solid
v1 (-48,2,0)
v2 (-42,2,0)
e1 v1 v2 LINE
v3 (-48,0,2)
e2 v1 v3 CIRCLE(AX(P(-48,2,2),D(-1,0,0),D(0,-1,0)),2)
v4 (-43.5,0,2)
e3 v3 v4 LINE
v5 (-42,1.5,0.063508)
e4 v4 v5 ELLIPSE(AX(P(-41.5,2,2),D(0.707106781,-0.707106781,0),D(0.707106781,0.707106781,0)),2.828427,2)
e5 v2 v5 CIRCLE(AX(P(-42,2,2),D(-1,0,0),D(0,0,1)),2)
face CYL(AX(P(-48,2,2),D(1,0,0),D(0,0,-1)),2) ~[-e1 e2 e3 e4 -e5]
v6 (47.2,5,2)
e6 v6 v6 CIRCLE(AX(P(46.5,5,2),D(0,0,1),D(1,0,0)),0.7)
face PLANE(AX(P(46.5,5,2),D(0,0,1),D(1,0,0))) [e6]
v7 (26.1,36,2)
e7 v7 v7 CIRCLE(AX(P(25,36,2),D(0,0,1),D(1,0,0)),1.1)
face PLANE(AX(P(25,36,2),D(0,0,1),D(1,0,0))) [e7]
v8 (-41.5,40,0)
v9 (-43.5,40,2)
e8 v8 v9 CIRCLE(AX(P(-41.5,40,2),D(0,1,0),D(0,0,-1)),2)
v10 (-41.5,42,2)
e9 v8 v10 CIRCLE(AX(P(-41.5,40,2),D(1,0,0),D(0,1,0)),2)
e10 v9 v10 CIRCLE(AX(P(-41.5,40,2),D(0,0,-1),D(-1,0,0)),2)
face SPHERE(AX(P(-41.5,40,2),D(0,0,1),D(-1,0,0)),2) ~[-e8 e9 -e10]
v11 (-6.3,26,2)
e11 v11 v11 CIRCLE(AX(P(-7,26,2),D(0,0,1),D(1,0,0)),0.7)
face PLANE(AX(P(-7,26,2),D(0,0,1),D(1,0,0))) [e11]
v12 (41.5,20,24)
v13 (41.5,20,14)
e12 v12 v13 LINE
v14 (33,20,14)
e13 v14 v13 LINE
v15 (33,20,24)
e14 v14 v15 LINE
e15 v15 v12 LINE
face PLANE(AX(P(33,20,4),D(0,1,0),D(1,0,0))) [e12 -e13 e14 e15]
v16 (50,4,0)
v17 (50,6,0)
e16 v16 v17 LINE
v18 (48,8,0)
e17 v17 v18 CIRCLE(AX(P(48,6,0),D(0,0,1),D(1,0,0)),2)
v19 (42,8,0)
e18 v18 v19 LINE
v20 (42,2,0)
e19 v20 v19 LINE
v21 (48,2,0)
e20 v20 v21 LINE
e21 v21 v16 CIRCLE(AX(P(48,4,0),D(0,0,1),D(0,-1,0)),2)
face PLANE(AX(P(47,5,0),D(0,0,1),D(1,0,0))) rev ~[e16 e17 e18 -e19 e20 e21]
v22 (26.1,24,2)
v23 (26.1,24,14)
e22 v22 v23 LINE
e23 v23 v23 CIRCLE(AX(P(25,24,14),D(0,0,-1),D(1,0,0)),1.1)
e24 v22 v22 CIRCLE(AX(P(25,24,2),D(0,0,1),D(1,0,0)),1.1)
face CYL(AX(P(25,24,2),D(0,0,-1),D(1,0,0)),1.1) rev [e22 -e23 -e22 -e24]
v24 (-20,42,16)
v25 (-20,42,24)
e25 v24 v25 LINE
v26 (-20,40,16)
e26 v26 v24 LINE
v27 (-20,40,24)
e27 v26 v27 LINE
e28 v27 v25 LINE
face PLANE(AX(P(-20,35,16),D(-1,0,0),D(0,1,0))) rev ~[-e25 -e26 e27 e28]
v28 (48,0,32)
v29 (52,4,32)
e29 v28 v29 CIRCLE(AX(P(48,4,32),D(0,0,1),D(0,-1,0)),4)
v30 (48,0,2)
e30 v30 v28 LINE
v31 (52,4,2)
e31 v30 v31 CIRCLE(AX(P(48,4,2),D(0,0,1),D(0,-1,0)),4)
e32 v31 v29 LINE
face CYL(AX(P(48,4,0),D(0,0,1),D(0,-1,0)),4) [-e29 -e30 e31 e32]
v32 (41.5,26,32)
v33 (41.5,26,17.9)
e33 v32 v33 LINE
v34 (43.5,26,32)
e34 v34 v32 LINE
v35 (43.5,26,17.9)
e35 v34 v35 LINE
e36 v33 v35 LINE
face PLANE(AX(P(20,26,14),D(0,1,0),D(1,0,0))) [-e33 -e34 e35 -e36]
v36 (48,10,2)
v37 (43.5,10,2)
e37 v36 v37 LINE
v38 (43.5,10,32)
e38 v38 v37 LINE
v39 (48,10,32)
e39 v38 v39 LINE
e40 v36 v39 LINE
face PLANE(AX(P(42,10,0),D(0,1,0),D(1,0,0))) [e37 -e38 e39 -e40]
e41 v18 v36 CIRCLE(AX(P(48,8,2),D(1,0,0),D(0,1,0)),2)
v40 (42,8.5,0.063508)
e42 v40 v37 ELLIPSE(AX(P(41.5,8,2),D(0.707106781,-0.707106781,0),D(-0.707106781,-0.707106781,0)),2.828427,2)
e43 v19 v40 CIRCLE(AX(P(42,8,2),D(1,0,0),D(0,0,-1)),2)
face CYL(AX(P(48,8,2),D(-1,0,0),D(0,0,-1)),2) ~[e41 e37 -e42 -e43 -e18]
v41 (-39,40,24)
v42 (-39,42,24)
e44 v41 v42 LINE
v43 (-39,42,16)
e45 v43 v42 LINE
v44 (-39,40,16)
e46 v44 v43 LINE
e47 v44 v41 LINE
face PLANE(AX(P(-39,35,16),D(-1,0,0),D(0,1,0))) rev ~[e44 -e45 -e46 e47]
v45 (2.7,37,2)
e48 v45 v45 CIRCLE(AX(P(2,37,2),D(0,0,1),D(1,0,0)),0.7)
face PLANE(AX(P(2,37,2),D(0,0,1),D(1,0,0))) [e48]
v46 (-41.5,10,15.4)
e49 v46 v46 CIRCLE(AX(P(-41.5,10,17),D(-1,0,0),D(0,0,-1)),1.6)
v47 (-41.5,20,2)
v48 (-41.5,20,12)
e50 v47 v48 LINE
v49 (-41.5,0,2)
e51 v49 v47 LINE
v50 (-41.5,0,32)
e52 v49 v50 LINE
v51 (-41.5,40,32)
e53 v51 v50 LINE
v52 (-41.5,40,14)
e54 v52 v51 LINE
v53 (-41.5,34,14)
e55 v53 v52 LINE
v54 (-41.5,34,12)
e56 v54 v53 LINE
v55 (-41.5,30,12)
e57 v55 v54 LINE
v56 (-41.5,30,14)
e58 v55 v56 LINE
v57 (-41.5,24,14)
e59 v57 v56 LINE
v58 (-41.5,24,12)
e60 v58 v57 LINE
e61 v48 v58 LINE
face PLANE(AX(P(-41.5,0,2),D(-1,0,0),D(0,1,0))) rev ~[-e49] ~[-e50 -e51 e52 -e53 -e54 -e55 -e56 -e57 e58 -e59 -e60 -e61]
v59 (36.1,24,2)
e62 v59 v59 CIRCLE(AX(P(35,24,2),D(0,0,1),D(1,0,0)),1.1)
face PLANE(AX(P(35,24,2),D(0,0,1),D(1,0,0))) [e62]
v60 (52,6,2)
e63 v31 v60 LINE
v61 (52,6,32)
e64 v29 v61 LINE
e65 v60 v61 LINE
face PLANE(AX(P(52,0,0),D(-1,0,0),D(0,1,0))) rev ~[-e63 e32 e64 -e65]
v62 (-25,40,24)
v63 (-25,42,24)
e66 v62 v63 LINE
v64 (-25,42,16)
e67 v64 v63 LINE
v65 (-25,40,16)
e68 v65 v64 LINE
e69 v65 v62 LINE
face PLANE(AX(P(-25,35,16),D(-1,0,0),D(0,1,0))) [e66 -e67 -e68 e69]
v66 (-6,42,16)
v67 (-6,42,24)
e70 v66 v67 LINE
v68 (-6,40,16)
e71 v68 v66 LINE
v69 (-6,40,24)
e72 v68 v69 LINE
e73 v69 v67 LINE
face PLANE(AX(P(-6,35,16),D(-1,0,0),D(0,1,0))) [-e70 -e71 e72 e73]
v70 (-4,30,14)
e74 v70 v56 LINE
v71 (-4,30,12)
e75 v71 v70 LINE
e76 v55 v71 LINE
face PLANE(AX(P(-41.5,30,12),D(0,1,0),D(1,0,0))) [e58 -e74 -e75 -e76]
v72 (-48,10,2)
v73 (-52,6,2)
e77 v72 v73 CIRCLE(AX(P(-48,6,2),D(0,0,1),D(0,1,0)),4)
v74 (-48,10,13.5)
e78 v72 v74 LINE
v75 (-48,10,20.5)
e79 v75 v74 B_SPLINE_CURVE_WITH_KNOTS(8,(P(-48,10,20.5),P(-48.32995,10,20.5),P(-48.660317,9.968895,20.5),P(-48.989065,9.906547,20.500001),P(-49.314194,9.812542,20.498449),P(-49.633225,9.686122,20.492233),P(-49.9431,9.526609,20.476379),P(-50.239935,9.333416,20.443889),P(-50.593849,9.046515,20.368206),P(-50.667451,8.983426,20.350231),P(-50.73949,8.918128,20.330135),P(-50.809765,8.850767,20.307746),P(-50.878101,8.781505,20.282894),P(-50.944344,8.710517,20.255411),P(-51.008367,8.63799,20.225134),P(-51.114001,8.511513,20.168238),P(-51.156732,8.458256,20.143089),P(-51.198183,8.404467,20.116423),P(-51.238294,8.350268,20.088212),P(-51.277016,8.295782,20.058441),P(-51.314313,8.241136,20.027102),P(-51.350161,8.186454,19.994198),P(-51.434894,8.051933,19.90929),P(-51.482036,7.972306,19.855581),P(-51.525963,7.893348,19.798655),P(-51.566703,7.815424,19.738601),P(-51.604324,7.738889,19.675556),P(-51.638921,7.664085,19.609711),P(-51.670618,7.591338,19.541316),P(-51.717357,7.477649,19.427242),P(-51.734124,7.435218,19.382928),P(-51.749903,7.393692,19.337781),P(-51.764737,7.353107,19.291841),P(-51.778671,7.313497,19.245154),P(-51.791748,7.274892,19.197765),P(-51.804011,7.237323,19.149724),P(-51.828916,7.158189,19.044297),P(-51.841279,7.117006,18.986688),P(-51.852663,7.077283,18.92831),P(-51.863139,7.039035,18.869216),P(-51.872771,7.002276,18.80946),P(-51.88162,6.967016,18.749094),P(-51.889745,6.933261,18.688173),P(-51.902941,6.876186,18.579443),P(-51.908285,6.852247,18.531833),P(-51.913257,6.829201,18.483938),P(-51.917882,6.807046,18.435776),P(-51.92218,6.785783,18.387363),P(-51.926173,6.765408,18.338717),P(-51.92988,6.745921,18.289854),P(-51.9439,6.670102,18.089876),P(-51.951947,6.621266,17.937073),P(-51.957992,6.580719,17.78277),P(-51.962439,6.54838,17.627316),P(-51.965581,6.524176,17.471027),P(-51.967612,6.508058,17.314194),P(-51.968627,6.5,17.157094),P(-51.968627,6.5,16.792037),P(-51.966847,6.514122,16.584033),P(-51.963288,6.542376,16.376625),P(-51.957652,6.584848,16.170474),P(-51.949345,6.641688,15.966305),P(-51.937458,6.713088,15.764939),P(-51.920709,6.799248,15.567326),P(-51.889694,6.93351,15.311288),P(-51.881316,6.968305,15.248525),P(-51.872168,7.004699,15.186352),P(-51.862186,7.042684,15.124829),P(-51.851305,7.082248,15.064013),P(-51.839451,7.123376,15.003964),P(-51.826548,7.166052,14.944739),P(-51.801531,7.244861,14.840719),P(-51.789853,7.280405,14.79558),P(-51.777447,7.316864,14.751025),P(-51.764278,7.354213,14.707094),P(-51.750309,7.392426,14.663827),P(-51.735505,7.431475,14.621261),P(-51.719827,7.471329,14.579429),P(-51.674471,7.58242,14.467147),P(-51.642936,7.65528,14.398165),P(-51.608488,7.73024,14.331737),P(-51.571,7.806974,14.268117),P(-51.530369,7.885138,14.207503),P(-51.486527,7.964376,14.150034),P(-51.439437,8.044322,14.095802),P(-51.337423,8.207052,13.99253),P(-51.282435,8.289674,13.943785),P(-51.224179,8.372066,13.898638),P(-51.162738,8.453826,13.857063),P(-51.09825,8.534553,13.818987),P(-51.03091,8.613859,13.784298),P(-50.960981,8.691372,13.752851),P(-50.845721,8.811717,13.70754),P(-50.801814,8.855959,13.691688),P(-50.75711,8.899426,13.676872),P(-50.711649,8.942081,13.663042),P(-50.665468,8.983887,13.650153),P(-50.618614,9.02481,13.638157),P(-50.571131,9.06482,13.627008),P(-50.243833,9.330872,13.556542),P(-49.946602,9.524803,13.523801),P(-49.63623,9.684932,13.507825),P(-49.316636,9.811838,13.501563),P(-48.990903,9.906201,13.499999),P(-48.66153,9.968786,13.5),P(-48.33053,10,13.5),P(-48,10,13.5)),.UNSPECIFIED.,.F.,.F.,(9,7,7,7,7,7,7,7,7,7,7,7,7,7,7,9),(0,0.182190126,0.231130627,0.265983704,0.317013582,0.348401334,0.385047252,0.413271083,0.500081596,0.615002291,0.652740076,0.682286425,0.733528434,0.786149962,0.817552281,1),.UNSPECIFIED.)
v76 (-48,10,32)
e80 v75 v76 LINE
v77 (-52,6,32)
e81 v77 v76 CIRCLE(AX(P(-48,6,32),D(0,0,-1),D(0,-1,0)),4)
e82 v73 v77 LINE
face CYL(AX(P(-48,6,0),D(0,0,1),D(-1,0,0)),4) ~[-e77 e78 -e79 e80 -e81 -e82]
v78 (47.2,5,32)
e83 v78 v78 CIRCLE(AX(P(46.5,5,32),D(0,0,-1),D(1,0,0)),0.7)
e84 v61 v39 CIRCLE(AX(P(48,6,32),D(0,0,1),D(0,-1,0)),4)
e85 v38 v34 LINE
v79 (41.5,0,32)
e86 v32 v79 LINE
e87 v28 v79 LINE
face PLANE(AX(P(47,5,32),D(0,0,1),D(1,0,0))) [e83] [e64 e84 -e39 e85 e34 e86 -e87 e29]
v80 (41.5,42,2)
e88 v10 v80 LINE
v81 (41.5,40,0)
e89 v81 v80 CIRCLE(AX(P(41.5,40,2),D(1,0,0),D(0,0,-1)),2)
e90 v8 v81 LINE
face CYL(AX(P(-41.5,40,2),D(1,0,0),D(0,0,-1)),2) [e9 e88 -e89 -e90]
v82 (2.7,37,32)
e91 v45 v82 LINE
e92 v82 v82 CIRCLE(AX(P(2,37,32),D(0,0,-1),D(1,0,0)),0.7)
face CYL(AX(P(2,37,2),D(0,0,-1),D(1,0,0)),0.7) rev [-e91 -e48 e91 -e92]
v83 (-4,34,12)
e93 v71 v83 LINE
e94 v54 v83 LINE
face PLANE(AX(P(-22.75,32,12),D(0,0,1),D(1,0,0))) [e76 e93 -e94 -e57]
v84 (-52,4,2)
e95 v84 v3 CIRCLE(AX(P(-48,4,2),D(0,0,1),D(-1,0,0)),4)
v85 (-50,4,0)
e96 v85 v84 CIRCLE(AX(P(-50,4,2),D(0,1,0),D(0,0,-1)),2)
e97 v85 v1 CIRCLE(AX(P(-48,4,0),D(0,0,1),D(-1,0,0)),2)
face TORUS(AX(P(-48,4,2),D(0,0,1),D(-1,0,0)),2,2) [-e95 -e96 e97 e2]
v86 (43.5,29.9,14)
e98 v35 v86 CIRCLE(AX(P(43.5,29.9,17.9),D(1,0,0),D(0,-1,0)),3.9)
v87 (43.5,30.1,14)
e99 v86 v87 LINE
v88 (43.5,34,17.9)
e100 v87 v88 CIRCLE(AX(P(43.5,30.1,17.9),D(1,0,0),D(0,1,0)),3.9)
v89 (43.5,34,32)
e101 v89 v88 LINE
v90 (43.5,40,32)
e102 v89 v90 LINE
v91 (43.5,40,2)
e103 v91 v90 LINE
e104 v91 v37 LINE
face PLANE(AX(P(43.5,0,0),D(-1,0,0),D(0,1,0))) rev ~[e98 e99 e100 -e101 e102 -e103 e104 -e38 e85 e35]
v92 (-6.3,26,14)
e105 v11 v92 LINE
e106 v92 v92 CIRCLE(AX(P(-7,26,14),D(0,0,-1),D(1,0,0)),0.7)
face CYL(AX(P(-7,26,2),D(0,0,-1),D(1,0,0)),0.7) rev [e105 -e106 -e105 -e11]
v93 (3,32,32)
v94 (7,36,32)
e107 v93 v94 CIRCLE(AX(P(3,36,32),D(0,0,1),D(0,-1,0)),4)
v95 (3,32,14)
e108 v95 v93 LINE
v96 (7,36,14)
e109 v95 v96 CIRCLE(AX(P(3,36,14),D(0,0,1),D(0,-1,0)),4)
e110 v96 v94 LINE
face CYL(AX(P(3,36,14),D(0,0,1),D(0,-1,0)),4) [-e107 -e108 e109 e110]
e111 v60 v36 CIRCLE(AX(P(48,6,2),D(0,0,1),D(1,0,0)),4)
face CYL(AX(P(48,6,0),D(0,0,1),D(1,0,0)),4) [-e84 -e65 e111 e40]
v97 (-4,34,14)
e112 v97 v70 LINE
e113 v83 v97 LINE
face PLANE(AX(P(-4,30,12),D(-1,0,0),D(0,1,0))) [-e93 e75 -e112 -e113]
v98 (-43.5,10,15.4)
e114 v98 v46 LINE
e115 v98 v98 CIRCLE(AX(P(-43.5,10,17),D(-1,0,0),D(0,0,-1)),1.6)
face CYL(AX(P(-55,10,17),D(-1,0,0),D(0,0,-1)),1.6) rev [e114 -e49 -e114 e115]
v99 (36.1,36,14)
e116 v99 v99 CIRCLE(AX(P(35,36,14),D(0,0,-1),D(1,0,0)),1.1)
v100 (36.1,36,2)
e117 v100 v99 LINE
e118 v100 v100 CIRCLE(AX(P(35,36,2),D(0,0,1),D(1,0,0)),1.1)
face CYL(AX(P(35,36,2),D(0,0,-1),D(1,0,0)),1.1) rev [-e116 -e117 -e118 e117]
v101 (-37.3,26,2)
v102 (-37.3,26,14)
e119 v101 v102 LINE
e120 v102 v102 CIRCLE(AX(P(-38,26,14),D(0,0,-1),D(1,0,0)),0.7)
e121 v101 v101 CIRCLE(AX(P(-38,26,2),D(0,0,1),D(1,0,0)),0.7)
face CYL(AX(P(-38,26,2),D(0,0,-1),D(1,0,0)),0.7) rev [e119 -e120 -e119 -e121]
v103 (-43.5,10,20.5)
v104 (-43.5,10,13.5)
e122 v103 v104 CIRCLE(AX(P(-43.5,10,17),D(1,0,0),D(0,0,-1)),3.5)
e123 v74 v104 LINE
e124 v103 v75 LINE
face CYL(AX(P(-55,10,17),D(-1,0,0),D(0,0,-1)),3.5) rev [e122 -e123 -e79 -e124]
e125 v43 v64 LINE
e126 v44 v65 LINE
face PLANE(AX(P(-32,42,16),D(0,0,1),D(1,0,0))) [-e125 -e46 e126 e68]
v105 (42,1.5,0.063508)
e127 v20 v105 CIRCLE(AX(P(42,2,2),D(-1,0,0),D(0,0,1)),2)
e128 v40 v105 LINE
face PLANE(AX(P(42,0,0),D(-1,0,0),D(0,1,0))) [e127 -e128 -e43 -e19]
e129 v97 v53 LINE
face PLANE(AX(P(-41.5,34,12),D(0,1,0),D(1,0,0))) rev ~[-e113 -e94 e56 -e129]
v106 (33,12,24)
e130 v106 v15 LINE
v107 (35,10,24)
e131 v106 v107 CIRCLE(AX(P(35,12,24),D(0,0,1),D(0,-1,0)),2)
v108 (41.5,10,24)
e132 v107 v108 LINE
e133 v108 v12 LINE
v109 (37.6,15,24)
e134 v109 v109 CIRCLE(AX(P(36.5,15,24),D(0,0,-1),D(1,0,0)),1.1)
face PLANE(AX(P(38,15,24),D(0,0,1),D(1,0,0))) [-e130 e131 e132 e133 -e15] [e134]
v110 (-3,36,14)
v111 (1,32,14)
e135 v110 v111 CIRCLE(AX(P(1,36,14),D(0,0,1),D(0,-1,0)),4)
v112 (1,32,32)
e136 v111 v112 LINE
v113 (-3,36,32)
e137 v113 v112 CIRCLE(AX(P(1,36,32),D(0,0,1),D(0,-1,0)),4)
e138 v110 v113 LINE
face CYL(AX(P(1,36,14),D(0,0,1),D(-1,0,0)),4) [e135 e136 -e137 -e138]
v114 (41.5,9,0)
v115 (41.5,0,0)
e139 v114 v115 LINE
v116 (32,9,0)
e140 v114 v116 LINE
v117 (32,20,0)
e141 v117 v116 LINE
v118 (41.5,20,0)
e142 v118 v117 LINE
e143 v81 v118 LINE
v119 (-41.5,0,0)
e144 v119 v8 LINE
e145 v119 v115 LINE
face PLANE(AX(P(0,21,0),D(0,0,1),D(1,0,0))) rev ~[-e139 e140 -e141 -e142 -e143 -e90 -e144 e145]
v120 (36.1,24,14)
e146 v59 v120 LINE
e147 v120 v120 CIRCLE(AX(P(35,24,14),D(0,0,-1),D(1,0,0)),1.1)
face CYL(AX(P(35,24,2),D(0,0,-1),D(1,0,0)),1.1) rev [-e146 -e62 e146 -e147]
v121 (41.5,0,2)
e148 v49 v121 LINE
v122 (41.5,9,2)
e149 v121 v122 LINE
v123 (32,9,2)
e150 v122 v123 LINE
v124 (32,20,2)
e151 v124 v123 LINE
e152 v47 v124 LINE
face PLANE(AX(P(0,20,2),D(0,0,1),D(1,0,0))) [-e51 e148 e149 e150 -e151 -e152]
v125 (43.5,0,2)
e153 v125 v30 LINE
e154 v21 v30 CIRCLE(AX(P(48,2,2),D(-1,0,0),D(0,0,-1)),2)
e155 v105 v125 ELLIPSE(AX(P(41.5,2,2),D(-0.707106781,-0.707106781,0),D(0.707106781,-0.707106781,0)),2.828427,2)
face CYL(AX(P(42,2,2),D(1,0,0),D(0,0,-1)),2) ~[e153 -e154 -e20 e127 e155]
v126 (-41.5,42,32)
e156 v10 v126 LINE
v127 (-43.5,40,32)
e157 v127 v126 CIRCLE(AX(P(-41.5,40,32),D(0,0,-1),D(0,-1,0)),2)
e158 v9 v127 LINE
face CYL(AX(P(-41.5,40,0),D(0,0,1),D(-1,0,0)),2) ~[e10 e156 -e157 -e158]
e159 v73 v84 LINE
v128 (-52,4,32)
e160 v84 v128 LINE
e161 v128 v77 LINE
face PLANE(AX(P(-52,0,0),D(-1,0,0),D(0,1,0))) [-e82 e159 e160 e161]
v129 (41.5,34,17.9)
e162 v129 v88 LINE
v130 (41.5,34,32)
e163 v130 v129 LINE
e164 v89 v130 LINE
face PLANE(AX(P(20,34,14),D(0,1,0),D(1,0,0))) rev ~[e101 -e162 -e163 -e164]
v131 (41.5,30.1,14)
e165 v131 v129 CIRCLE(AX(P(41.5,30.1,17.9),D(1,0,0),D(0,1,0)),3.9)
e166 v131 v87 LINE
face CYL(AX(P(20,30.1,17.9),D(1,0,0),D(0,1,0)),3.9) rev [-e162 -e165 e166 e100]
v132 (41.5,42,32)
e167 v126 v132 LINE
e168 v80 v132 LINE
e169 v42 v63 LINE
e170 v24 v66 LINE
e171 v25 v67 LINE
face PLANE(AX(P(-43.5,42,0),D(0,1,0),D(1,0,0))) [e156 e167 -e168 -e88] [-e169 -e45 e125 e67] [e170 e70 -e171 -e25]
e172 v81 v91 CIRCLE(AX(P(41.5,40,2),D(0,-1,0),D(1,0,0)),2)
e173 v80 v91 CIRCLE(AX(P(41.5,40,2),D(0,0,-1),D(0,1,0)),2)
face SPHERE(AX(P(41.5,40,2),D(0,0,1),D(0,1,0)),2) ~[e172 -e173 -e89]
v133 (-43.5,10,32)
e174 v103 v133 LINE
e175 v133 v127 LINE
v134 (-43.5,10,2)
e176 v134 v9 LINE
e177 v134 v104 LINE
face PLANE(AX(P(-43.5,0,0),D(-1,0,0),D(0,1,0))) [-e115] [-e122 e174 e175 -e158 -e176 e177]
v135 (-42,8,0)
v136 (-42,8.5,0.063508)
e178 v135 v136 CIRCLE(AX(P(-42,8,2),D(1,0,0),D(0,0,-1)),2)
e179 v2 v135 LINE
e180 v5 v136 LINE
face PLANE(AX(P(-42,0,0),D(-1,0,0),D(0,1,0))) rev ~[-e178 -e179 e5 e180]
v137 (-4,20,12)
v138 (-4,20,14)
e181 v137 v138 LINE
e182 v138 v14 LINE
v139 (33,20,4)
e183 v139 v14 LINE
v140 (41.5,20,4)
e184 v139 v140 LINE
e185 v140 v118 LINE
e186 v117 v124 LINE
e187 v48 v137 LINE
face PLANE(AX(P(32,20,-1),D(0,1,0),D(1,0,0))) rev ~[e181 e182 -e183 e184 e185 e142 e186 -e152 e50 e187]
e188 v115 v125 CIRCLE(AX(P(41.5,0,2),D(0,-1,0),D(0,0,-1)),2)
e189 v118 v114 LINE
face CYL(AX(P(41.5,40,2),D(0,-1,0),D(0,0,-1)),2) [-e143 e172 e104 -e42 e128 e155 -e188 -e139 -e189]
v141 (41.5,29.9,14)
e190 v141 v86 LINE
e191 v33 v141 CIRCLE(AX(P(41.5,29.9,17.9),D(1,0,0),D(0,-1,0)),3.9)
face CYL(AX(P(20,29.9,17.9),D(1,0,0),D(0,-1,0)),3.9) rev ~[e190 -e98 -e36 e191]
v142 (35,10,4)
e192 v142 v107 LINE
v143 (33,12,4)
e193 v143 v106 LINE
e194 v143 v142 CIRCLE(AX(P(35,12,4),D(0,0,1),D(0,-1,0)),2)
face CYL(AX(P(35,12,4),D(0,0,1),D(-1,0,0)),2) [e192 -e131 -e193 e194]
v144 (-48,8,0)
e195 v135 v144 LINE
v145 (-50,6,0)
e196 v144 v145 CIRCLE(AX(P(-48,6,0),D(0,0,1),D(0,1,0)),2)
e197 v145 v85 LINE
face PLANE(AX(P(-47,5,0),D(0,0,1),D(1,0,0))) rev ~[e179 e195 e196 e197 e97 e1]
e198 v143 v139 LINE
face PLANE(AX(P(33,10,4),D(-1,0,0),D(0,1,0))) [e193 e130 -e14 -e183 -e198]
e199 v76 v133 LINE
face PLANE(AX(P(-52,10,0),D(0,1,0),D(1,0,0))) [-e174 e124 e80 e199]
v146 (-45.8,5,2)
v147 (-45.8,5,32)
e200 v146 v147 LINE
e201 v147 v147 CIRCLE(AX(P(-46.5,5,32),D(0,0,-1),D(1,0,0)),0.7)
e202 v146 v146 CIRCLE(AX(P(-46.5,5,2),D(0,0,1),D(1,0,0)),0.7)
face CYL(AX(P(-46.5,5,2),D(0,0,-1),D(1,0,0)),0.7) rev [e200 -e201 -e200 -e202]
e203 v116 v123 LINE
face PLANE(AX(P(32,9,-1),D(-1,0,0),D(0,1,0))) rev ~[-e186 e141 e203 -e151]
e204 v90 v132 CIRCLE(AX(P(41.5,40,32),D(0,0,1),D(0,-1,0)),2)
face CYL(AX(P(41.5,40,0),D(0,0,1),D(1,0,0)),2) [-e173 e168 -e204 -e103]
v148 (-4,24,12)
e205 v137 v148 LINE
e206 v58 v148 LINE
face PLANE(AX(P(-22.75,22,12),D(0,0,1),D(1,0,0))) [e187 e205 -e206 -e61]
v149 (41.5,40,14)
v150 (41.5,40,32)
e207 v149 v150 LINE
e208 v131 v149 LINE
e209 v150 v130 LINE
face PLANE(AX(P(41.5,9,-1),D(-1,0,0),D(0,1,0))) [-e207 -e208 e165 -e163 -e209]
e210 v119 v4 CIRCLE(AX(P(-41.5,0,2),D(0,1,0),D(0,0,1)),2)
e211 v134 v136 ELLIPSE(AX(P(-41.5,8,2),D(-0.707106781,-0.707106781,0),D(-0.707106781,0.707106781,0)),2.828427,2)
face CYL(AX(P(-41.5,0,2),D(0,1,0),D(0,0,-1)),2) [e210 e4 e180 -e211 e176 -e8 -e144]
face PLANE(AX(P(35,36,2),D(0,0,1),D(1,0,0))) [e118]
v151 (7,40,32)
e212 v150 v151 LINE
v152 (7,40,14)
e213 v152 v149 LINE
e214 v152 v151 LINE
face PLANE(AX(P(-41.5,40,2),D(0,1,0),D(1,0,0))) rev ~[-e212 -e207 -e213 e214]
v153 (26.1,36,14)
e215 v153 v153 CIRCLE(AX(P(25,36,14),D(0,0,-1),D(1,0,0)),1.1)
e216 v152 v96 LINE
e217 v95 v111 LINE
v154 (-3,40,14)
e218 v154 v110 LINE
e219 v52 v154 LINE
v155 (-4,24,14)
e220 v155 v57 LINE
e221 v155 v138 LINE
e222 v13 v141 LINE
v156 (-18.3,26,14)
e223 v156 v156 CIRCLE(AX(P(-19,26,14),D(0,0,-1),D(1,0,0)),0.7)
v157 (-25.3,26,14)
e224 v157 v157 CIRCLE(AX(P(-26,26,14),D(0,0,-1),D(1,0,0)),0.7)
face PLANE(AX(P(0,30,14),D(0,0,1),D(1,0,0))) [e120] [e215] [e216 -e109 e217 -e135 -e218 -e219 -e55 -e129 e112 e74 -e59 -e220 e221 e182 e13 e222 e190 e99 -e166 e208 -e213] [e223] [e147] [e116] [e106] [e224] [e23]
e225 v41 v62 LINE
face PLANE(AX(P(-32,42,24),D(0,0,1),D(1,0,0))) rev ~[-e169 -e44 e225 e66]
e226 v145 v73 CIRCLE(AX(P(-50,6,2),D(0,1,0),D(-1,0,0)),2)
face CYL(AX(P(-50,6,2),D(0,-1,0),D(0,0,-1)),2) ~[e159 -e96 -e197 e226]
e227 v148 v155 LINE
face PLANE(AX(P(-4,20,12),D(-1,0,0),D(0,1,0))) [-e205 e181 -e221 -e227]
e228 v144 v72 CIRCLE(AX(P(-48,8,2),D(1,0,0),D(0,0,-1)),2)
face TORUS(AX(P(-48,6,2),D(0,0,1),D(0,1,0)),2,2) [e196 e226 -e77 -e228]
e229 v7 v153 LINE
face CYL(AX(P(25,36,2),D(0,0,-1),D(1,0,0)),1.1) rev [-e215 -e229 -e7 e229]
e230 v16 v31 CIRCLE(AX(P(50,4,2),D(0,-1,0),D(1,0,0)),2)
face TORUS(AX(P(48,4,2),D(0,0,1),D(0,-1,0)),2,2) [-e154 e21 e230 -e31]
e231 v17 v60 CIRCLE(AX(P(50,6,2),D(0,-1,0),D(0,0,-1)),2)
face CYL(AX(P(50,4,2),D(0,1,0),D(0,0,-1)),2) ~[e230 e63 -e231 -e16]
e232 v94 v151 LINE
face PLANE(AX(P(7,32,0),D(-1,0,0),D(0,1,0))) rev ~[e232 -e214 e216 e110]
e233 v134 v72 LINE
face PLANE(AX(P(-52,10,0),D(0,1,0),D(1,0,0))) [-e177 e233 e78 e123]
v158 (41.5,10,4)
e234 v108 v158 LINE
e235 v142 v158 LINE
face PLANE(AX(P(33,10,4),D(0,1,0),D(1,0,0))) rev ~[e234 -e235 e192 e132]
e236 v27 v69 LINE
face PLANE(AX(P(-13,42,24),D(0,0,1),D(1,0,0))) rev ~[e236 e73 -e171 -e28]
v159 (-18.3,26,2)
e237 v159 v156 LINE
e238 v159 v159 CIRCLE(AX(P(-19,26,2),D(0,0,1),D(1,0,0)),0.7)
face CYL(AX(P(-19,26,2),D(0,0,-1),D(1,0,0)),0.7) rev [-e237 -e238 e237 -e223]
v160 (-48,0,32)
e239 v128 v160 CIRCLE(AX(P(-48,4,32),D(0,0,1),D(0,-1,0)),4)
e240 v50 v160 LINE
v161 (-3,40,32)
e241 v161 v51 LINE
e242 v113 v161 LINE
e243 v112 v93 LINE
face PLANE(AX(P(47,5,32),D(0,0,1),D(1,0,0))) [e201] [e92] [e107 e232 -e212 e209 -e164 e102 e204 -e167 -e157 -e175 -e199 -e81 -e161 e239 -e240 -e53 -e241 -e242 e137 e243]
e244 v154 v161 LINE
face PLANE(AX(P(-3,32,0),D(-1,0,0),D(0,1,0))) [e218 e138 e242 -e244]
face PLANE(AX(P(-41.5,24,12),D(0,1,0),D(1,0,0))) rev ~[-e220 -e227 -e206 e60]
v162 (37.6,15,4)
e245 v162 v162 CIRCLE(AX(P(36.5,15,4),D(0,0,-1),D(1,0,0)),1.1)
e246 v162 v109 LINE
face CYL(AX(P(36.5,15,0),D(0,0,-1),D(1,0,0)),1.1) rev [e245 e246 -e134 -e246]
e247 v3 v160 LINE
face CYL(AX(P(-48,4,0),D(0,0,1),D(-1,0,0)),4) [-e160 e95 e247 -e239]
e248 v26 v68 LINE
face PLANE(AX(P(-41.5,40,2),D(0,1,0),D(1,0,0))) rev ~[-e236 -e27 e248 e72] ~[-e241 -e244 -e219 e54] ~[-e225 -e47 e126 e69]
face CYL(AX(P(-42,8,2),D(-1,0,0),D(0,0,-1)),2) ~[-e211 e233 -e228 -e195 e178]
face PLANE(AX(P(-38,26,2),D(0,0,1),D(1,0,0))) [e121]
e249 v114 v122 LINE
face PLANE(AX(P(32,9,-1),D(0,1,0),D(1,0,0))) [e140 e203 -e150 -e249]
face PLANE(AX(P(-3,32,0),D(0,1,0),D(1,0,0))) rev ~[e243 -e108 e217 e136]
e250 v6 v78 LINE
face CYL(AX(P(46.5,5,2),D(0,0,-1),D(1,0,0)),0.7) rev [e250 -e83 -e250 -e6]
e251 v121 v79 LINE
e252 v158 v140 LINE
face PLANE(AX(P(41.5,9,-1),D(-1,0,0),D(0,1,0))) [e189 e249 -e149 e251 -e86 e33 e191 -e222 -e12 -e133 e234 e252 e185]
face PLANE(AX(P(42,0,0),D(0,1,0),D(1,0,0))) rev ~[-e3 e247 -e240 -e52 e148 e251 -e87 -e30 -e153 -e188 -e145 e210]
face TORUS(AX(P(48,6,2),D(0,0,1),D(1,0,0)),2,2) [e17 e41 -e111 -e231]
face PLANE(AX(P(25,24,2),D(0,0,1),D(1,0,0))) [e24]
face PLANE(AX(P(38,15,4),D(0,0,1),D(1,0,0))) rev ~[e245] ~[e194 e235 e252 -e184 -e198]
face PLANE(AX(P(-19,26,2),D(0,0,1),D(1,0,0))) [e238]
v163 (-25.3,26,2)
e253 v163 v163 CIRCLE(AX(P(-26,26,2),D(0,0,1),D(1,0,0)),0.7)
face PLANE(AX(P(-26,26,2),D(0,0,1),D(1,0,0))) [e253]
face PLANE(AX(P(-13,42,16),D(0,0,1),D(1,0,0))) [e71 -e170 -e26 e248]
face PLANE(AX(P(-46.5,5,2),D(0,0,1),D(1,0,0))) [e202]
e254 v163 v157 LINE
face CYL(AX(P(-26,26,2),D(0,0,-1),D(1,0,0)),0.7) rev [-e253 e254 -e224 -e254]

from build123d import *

# Parameters (mm, degrees)
BOX019_W          = 14
BOX019_H          = 14
BOX019_DEPTH      = 8
BOX020_W          = 14
BOX020_H          = 14
BOX020_DEPTH      = 8
BOX021_W          = 37.5
BOX021_H          = 4
BOX021_DEPTH      = 3
BOX022_W          = 37.5
BOX022_H          = 4
BOX022_DEPTH      = 3
CYLINDER023_R     = 0.7
CYLINDER023_DEPTH = 15
CYLINDER024_R     = 0.7
CYLINDER024_DEPTH = 15
CYLINDER025_R     = 0.7
CYLINDER025_DEPTH = 15
CYLINDER026_R     = 0.7
CYLINDER026_DEPTH = 15
BOX013_W          = 9.5
BOX013_H          = 11
BOX013_DEPTH      = 4
CYLINDER009_R     = 3.5
CYLINDER009_DEPTH = 11.5
BOX007_W          = 30
BOX007_H          = 8
BOX007_DEPTH      = 20
FILLET003_R       = 3.9
CYLINDER008_R     = 1.1
CYLINDER008_DEPTH = 30
CYLINDER007_R     = 1.1
CYLINDER007_DEPTH = 30
CYLINDER006_R     = 1.1
CYLINDER006_DEPTH = 30
CYLINDER005_R     = 1.1
CYLINDER005_DEPTH = 30
CYLINDER004_R     = 0.7
CYLINDER004_DEPTH = 40
CYLINDER003_R     = 0.7
CYLINDER003_DEPTH = 40
CYLINDER002_R     = 0.7
CYLINDER002_DEPTH = 40
CYLINDER001_R     = 1.1
CYLINDER001_DEPTH = 30
CYLINDER_R        = 1.6
CYLINDER_DEPTH    = 20
BOX012_W          = 10
BOX012_H          = 10
BOX012_DEPTH      = 20
FILLET008_R       = 2
BOX003_W          = 10
BOX003_H          = 10
BOX003_DEPTH      = 32
BOX_W             = 83
BOX_H             = 20
BOX_DEPTH         = 12
FILLET_R          = 4
BOX002_W          = 83
BOX002_H          = 40
BOX002_DEPTH      = 40
BOX001_W          = 87
BOX001_H          = 42
BOX001_DEPTH      = 32
FILLET004_R       = 2
FILLET005_R       = 2
BOX005_W          = 10
BOX005_H          = 10
BOX005_DEPTH      = 32
FILLET002_R       = 4
FILLET006_R       = 2
BOX004_W          = 10
BOX004_H          = 10
BOX004_DEPTH      = 32
FILLET001_R       = 4
FILLET007_R       = 2


with BuildPart() as cube016:
    # Box019 → Box019 (new body)
    with BuildSketch(Plane(origin=(-39, 35, 16), x_dir=(1, 0, 0), z_dir=(0, 0, 1))):
        with Locations((7, 7)):
            Rectangle(BOX019_W, BOX019_H)
    extrude(amount=BOX019_DEPTH)


with BuildPart() as cube017:
    # Box020 → Box020 (new body)
    with BuildSketch(Plane(origin=(-20, 35, 16), x_dir=(1, 0, 0), z_dir=(0, 0, 1))):
        with Locations((7, 7)):
            Rectangle(BOX020_W, BOX020_H)
    extrude(amount=BOX020_DEPTH)


with BuildPart() as cube018:
    # Box021 → Box021 (new body)
    with BuildSketch(Plane(origin=(-41.5, 20, 12), x_dir=(1, 0, 0), z_dir=(0, 0, 1))):
        with Locations((18.75, 2)):
            Rectangle(BOX021_W, BOX021_H)
    extrude(amount=BOX021_DEPTH)


with BuildPart() as cube019:
    # Box022 → Box022 (new body)
    with BuildSketch(Plane(origin=(-41.5, 30, 12), x_dir=(1, 0, 0), z_dir=(0, 0, 1))):
        with Locations((18.75, 2)):
            Rectangle(BOX022_W, BOX022_H)
    extrude(amount=BOX022_DEPTH)


with BuildPart() as cylinder023:
    # Cylinder023 → Cylinder023 (new body)
    with BuildSketch(Plane(origin=(-38, 26, 2), x_dir=(1, 0, 0), z_dir=(0, 0, 1))):
        Circle(CYLINDER023_R)
    extrude(amount=CYLINDER023_DEPTH)


with BuildPart() as cylinder024:
    # Cylinder024 → Cylinder024 (new body)
    with BuildSketch(Plane(origin=(-26, 26, 2), x_dir=(1, 0, 0), z_dir=(0, 0, 1))):
        Circle(CYLINDER024_R)
    extrude(amount=CYLINDER024_DEPTH)


with BuildPart() as cylinder025:
    # Cylinder025 → Cylinder025 (new body)
    with BuildSketch(Plane(origin=(-19, 26, 2), x_dir=(1, 0, 0), z_dir=(0, 0, 1))):
        Circle(CYLINDER025_R)
    extrude(amount=CYLINDER025_DEPTH)


with BuildPart() as usbconnectorholles:
    # Cylinder026 → Cylinder026 (new body)
    with BuildSketch(Plane(origin=(-7, 26, 2), x_dir=(1, 0, 0), z_dir=(0, 0, 1))):
        Circle(CYLINDER026_R)
    extrude(amount=CYLINDER026_DEPTH)

    # Fusion005008: union Cube016, Cube017, Cube018, Cube019, Cylinder023, Cylinder024, Cylinder025
    add(cube016.part)
    add(cube017.part)
    add(cube018.part)
    add(cube019.part)
    add(cylinder023.part)
    add(cylinder024.part)
    add(cylinder025.part)


with BuildPart() as cube011:
    # Box013 → Box013 (new body)
    with BuildSketch(Plane(origin=(32, 9, -1), x_dir=(1, 0, 0), z_dir=(0, 0, 1))):
        with Locations((4.75, 5.5)):
            Rectangle(BOX013_W, BOX013_H)
    extrude(amount=BOX013_DEPTH)


with BuildPart() as screholle010:
    # Cylinder009 → Cylinder009 (new body)
    with BuildSketch(Plane(origin=(-55, 10, 17), x_dir=(0, 0, -1), z_dir=(1, 0, 0))):
        Circle(CYLINDER009_R)
    extrude(amount=CYLINDER009_DEPTH)


with BuildPart() as fillet003:
    # Box007 → Box007 (new body)
    with BuildSketch(Plane(origin=(20, 26, 14), x_dir=(1, 0, 0), z_dir=(0, 0, 1))):
        with Locations((15, 4)):
            Rectangle(BOX007_W, BOX007_H)
    extrude(amount=BOX007_DEPTH)

    # Fillet003
    fillet003_edges = [fillet003.edges().sort_by_distance(p)[0] for p in [
        (35, 26, 14),
        (35, 34, 14),
    ]]
    fillet(fillet003_edges, radius=FILLET003_R)


with BuildPart() as screholle009:
    # Cylinder008 → Cylinder008 (new body)
    with BuildSketch(Plane(origin=(25, 24, 2), x_dir=(1, 0, 0), z_dir=(0, 0, 1))):
        Circle(CYLINDER008_R)
    extrude(amount=CYLINDER008_DEPTH)


with BuildPart() as screholle008:
    # Cylinder007 → Cylinder007 (new body)
    with BuildSketch(Plane(origin=(35, 36, 2), x_dir=(1, 0, 0), z_dir=(0, 0, 1))):
        Circle(CYLINDER007_R)
    extrude(amount=CYLINDER007_DEPTH)


with BuildPart() as screholle007:
    # Cylinder006 → Cylinder006 (new body)
    with BuildSketch(Plane(origin=(25, 36, 2), x_dir=(1, 0, 0), z_dir=(0, 0, 1))):
        Circle(CYLINDER006_R)
    extrude(amount=CYLINDER006_DEPTH)


with BuildPart() as screholle006:
    # Cylinder005 → Cylinder005 (new body)
    with BuildSketch(Plane(origin=(35, 24, 2), x_dir=(1, 0, 0), z_dir=(0, 0, 1))):
        Circle(CYLINDER005_R)
    extrude(amount=CYLINDER005_DEPTH)


with BuildPart() as screholle005:
    # Cylinder004 → Cylinder004 (new body)
    with BuildSketch(Plane(origin=(-46.5, 5, 2), x_dir=(1, 0, 0), z_dir=(0, 0, 1))):
        Circle(CYLINDER004_R)
    extrude(amount=CYLINDER004_DEPTH)


with BuildPart() as screholle004:
    # Cylinder003 → Cylinder003 (new body)
    with BuildSketch(Plane(origin=(46.5, 5, 2), x_dir=(1, 0, 0), z_dir=(0, 0, 1))):
        Circle(CYLINDER003_R)
    extrude(amount=CYLINDER003_DEPTH)


with BuildPart() as screholle003:
    # Cylinder002 → Cylinder002 (new body)
    with BuildSketch(Plane(origin=(2, 37, 2), x_dir=(1, 0, 0), z_dir=(0, 0, 1))):
        Circle(CYLINDER002_R)
    extrude(amount=CYLINDER002_DEPTH)


with BuildPart() as screholle002:
    # Cylinder001 → Cylinder001 (new body)
    with BuildSketch(Plane(origin=(36.5, 15, 0), x_dir=(1, 0, 0), z_dir=(0, 0, 1))):
        Circle(CYLINDER001_R)
    extrude(amount=CYLINDER001_DEPTH)


with BuildPart() as screholle001:
    # Cylinder → Cylinder (new body)
    with BuildSketch(Plane(origin=(-55, 10, 17), x_dir=(0, 0, -1), z_dir=(1, 0, 0))):
        Circle(CYLINDER_R)
    extrude(amount=CYLINDER_DEPTH)


with BuildPart() as screwholder005:
    # Box012 → Box012 (new body)
    with BuildSketch(Plane(origin=(33, 10, 4), x_dir=(1, 0, 0), z_dir=(0, 0, 1))):
        with Locations((5, 5)):
            Rectangle(BOX012_W, BOX012_H)
    extrude(amount=BOX012_DEPTH)

    # Fillet008
    fillet008_edges = [screwholder005.edges().sort_by_distance(p)[0] for p in [
        (33, 10, 14),
    ]]
    fillet(fillet008_edges, radius=FILLET008_R)


with BuildPart() as cube:
    # Box003 → Box003 (new body)
    with BuildSketch(Plane(origin=(-3, 32, 0), x_dir=(1, 0, 0), z_dir=(0, 0, 1))):
        with Locations((5, 5)):
            Rectangle(BOX003_W, BOX003_H)
    extrude(amount=BOX003_DEPTH)


with BuildPart() as fillet_body:
    # Box → Box (new body)
    with BuildSketch(Plane(origin=(-41.5, 20, 2), x_dir=(1, 0, 0), z_dir=(0, 0, 1))):
        with Locations((41.5, 10)):
            Rectangle(BOX_W, BOX_H)
    extrude(amount=BOX_DEPTH)

    # Fusion: union Cube
    add(cube.part)

    # Fillet
    fillet_edges = [fillet_body.edges().sort_by_distance(p)[0] for p in [
        (-3, 32, 23),
        (7, 32, 23),
    ]]
    fillet(fillet_edges, radius=FILLET_R)


with BuildPart() as boxhollows:
    # Box002 → Box002 (new body)
    with BuildSketch(Plane(origin=(-41.5, 0, 2), x_dir=(1, 0, 0), z_dir=(0, 0, 1))):
        with Locations((41.5, 20)):
            Rectangle(BOX002_W, BOX002_H)
    extrude(amount=BOX002_DEPTH)

    # Cut: cut Fillet body
    add(fillet_body.part, mode=Mode.SUBTRACT)

    # Cut001: cut ScrewHolder005
    add(screwholder005.part, mode=Mode.SUBTRACT)

    # Fusion005009: union UsbConnectorHolles, Cube011, ScreHolle010, Fillet003, ScreHolle009, ScreHolle008, ScreHolle007, ScreHolle006, ScreHolle005, ScreHolle004, ScreHolle003, ScreHolle002, ScreHolle001
    add(usbconnectorholles.part)
    add(cube011.part)
    add(screholle010.part)
    add(fillet003.part)
    add(screholle009.part)
    add(screholle008.part)
    add(screholle007.part)
    add(screholle006.part)
    add(screholle005.part)
    add(screholle004.part)
    add(screholle003.part)
    add(screholle002.part)
    add(screholle001.part)


with BuildPart() as mainboxcube:
    # Box001 → Box001 (new body)
    with BuildSketch(Plane(origin=(-43.5, 0, 0), x_dir=(1, 0, 0), z_dir=(0, 0, 1))):
        with Locations((43.5, 21)):
            Rectangle(BOX001_W, BOX001_H)
    extrude(amount=BOX001_DEPTH)

    # Fillet004
    fillet004_edges = [mainboxcube.edges().sort_by_distance(p)[0] for p in [
        (-43.5, 42, 16),
        (43.5, 42, 16),
    ]]
    fillet(fillet004_edges, radius=FILLET004_R)

    # Fillet005
    fillet005_edges = [mainboxcube.edges().sort_by_distance(p)[0] for p in [
        (0, 42, 0),
    ]]
    fillet(fillet005_edges, radius=FILLET005_R)


with BuildPart() as screwholder003:
    # Box005 → Box005 (new body)
    with BuildSketch(Plane(origin=(42, 0, 0), x_dir=(1, 0, 0), z_dir=(0, 0, 1))):
        with Locations((5, 5)):
            Rectangle(BOX005_W, BOX005_H)
    extrude(amount=BOX005_DEPTH)

    # Fillet002
    fillet002_edges = [screwholder003.edges().sort_by_distance(p)[0] for p in [
        (52, 0, 16),
        (52, 10, 16),
    ]]
    fillet(fillet002_edges, radius=FILLET002_R)

    # Fillet006
    fillet006_edges = [screwholder003.edges().sort_by_distance(p)[0] for p in [
        (50.828427, 8.828427, 0),
    ]]
    fillet(fillet006_edges, radius=FILLET006_R)


with BuildPart() as pwrbox:
    # Box004 → Box004 (new body)
    with BuildSketch(Plane(origin=(-52, 0, 0), x_dir=(1, 0, 0), z_dir=(0, 0, 1))):
        with Locations((5, 5)):
            Rectangle(BOX004_W, BOX004_H)
    extrude(amount=BOX004_DEPTH)

    # Fillet001
    fillet001_edges = [pwrbox.edges().sort_by_distance(p)[0] for p in [
        (-52, 0, 16),
        (-52, 10, 16),
    ]]
    fillet(fillet001_edges, radius=FILLET001_R)

    # Fillet007
    fillet007_edges = [pwrbox.edges().sort_by_distance(p)[0] for p in [
        (-45, 0, 0),
    ]]
    fillet(fillet007_edges, radius=FILLET007_R)

    # Fusion005003: union MainBoxCube, ScrewHolder003
    add(mainboxcube.part)
    add(screwholder003.part)

    # Cut005: cut BoxHollows
    add(boxhollows.part, mode=Mode.SUBTRACT)


solid = pwrbox.part
